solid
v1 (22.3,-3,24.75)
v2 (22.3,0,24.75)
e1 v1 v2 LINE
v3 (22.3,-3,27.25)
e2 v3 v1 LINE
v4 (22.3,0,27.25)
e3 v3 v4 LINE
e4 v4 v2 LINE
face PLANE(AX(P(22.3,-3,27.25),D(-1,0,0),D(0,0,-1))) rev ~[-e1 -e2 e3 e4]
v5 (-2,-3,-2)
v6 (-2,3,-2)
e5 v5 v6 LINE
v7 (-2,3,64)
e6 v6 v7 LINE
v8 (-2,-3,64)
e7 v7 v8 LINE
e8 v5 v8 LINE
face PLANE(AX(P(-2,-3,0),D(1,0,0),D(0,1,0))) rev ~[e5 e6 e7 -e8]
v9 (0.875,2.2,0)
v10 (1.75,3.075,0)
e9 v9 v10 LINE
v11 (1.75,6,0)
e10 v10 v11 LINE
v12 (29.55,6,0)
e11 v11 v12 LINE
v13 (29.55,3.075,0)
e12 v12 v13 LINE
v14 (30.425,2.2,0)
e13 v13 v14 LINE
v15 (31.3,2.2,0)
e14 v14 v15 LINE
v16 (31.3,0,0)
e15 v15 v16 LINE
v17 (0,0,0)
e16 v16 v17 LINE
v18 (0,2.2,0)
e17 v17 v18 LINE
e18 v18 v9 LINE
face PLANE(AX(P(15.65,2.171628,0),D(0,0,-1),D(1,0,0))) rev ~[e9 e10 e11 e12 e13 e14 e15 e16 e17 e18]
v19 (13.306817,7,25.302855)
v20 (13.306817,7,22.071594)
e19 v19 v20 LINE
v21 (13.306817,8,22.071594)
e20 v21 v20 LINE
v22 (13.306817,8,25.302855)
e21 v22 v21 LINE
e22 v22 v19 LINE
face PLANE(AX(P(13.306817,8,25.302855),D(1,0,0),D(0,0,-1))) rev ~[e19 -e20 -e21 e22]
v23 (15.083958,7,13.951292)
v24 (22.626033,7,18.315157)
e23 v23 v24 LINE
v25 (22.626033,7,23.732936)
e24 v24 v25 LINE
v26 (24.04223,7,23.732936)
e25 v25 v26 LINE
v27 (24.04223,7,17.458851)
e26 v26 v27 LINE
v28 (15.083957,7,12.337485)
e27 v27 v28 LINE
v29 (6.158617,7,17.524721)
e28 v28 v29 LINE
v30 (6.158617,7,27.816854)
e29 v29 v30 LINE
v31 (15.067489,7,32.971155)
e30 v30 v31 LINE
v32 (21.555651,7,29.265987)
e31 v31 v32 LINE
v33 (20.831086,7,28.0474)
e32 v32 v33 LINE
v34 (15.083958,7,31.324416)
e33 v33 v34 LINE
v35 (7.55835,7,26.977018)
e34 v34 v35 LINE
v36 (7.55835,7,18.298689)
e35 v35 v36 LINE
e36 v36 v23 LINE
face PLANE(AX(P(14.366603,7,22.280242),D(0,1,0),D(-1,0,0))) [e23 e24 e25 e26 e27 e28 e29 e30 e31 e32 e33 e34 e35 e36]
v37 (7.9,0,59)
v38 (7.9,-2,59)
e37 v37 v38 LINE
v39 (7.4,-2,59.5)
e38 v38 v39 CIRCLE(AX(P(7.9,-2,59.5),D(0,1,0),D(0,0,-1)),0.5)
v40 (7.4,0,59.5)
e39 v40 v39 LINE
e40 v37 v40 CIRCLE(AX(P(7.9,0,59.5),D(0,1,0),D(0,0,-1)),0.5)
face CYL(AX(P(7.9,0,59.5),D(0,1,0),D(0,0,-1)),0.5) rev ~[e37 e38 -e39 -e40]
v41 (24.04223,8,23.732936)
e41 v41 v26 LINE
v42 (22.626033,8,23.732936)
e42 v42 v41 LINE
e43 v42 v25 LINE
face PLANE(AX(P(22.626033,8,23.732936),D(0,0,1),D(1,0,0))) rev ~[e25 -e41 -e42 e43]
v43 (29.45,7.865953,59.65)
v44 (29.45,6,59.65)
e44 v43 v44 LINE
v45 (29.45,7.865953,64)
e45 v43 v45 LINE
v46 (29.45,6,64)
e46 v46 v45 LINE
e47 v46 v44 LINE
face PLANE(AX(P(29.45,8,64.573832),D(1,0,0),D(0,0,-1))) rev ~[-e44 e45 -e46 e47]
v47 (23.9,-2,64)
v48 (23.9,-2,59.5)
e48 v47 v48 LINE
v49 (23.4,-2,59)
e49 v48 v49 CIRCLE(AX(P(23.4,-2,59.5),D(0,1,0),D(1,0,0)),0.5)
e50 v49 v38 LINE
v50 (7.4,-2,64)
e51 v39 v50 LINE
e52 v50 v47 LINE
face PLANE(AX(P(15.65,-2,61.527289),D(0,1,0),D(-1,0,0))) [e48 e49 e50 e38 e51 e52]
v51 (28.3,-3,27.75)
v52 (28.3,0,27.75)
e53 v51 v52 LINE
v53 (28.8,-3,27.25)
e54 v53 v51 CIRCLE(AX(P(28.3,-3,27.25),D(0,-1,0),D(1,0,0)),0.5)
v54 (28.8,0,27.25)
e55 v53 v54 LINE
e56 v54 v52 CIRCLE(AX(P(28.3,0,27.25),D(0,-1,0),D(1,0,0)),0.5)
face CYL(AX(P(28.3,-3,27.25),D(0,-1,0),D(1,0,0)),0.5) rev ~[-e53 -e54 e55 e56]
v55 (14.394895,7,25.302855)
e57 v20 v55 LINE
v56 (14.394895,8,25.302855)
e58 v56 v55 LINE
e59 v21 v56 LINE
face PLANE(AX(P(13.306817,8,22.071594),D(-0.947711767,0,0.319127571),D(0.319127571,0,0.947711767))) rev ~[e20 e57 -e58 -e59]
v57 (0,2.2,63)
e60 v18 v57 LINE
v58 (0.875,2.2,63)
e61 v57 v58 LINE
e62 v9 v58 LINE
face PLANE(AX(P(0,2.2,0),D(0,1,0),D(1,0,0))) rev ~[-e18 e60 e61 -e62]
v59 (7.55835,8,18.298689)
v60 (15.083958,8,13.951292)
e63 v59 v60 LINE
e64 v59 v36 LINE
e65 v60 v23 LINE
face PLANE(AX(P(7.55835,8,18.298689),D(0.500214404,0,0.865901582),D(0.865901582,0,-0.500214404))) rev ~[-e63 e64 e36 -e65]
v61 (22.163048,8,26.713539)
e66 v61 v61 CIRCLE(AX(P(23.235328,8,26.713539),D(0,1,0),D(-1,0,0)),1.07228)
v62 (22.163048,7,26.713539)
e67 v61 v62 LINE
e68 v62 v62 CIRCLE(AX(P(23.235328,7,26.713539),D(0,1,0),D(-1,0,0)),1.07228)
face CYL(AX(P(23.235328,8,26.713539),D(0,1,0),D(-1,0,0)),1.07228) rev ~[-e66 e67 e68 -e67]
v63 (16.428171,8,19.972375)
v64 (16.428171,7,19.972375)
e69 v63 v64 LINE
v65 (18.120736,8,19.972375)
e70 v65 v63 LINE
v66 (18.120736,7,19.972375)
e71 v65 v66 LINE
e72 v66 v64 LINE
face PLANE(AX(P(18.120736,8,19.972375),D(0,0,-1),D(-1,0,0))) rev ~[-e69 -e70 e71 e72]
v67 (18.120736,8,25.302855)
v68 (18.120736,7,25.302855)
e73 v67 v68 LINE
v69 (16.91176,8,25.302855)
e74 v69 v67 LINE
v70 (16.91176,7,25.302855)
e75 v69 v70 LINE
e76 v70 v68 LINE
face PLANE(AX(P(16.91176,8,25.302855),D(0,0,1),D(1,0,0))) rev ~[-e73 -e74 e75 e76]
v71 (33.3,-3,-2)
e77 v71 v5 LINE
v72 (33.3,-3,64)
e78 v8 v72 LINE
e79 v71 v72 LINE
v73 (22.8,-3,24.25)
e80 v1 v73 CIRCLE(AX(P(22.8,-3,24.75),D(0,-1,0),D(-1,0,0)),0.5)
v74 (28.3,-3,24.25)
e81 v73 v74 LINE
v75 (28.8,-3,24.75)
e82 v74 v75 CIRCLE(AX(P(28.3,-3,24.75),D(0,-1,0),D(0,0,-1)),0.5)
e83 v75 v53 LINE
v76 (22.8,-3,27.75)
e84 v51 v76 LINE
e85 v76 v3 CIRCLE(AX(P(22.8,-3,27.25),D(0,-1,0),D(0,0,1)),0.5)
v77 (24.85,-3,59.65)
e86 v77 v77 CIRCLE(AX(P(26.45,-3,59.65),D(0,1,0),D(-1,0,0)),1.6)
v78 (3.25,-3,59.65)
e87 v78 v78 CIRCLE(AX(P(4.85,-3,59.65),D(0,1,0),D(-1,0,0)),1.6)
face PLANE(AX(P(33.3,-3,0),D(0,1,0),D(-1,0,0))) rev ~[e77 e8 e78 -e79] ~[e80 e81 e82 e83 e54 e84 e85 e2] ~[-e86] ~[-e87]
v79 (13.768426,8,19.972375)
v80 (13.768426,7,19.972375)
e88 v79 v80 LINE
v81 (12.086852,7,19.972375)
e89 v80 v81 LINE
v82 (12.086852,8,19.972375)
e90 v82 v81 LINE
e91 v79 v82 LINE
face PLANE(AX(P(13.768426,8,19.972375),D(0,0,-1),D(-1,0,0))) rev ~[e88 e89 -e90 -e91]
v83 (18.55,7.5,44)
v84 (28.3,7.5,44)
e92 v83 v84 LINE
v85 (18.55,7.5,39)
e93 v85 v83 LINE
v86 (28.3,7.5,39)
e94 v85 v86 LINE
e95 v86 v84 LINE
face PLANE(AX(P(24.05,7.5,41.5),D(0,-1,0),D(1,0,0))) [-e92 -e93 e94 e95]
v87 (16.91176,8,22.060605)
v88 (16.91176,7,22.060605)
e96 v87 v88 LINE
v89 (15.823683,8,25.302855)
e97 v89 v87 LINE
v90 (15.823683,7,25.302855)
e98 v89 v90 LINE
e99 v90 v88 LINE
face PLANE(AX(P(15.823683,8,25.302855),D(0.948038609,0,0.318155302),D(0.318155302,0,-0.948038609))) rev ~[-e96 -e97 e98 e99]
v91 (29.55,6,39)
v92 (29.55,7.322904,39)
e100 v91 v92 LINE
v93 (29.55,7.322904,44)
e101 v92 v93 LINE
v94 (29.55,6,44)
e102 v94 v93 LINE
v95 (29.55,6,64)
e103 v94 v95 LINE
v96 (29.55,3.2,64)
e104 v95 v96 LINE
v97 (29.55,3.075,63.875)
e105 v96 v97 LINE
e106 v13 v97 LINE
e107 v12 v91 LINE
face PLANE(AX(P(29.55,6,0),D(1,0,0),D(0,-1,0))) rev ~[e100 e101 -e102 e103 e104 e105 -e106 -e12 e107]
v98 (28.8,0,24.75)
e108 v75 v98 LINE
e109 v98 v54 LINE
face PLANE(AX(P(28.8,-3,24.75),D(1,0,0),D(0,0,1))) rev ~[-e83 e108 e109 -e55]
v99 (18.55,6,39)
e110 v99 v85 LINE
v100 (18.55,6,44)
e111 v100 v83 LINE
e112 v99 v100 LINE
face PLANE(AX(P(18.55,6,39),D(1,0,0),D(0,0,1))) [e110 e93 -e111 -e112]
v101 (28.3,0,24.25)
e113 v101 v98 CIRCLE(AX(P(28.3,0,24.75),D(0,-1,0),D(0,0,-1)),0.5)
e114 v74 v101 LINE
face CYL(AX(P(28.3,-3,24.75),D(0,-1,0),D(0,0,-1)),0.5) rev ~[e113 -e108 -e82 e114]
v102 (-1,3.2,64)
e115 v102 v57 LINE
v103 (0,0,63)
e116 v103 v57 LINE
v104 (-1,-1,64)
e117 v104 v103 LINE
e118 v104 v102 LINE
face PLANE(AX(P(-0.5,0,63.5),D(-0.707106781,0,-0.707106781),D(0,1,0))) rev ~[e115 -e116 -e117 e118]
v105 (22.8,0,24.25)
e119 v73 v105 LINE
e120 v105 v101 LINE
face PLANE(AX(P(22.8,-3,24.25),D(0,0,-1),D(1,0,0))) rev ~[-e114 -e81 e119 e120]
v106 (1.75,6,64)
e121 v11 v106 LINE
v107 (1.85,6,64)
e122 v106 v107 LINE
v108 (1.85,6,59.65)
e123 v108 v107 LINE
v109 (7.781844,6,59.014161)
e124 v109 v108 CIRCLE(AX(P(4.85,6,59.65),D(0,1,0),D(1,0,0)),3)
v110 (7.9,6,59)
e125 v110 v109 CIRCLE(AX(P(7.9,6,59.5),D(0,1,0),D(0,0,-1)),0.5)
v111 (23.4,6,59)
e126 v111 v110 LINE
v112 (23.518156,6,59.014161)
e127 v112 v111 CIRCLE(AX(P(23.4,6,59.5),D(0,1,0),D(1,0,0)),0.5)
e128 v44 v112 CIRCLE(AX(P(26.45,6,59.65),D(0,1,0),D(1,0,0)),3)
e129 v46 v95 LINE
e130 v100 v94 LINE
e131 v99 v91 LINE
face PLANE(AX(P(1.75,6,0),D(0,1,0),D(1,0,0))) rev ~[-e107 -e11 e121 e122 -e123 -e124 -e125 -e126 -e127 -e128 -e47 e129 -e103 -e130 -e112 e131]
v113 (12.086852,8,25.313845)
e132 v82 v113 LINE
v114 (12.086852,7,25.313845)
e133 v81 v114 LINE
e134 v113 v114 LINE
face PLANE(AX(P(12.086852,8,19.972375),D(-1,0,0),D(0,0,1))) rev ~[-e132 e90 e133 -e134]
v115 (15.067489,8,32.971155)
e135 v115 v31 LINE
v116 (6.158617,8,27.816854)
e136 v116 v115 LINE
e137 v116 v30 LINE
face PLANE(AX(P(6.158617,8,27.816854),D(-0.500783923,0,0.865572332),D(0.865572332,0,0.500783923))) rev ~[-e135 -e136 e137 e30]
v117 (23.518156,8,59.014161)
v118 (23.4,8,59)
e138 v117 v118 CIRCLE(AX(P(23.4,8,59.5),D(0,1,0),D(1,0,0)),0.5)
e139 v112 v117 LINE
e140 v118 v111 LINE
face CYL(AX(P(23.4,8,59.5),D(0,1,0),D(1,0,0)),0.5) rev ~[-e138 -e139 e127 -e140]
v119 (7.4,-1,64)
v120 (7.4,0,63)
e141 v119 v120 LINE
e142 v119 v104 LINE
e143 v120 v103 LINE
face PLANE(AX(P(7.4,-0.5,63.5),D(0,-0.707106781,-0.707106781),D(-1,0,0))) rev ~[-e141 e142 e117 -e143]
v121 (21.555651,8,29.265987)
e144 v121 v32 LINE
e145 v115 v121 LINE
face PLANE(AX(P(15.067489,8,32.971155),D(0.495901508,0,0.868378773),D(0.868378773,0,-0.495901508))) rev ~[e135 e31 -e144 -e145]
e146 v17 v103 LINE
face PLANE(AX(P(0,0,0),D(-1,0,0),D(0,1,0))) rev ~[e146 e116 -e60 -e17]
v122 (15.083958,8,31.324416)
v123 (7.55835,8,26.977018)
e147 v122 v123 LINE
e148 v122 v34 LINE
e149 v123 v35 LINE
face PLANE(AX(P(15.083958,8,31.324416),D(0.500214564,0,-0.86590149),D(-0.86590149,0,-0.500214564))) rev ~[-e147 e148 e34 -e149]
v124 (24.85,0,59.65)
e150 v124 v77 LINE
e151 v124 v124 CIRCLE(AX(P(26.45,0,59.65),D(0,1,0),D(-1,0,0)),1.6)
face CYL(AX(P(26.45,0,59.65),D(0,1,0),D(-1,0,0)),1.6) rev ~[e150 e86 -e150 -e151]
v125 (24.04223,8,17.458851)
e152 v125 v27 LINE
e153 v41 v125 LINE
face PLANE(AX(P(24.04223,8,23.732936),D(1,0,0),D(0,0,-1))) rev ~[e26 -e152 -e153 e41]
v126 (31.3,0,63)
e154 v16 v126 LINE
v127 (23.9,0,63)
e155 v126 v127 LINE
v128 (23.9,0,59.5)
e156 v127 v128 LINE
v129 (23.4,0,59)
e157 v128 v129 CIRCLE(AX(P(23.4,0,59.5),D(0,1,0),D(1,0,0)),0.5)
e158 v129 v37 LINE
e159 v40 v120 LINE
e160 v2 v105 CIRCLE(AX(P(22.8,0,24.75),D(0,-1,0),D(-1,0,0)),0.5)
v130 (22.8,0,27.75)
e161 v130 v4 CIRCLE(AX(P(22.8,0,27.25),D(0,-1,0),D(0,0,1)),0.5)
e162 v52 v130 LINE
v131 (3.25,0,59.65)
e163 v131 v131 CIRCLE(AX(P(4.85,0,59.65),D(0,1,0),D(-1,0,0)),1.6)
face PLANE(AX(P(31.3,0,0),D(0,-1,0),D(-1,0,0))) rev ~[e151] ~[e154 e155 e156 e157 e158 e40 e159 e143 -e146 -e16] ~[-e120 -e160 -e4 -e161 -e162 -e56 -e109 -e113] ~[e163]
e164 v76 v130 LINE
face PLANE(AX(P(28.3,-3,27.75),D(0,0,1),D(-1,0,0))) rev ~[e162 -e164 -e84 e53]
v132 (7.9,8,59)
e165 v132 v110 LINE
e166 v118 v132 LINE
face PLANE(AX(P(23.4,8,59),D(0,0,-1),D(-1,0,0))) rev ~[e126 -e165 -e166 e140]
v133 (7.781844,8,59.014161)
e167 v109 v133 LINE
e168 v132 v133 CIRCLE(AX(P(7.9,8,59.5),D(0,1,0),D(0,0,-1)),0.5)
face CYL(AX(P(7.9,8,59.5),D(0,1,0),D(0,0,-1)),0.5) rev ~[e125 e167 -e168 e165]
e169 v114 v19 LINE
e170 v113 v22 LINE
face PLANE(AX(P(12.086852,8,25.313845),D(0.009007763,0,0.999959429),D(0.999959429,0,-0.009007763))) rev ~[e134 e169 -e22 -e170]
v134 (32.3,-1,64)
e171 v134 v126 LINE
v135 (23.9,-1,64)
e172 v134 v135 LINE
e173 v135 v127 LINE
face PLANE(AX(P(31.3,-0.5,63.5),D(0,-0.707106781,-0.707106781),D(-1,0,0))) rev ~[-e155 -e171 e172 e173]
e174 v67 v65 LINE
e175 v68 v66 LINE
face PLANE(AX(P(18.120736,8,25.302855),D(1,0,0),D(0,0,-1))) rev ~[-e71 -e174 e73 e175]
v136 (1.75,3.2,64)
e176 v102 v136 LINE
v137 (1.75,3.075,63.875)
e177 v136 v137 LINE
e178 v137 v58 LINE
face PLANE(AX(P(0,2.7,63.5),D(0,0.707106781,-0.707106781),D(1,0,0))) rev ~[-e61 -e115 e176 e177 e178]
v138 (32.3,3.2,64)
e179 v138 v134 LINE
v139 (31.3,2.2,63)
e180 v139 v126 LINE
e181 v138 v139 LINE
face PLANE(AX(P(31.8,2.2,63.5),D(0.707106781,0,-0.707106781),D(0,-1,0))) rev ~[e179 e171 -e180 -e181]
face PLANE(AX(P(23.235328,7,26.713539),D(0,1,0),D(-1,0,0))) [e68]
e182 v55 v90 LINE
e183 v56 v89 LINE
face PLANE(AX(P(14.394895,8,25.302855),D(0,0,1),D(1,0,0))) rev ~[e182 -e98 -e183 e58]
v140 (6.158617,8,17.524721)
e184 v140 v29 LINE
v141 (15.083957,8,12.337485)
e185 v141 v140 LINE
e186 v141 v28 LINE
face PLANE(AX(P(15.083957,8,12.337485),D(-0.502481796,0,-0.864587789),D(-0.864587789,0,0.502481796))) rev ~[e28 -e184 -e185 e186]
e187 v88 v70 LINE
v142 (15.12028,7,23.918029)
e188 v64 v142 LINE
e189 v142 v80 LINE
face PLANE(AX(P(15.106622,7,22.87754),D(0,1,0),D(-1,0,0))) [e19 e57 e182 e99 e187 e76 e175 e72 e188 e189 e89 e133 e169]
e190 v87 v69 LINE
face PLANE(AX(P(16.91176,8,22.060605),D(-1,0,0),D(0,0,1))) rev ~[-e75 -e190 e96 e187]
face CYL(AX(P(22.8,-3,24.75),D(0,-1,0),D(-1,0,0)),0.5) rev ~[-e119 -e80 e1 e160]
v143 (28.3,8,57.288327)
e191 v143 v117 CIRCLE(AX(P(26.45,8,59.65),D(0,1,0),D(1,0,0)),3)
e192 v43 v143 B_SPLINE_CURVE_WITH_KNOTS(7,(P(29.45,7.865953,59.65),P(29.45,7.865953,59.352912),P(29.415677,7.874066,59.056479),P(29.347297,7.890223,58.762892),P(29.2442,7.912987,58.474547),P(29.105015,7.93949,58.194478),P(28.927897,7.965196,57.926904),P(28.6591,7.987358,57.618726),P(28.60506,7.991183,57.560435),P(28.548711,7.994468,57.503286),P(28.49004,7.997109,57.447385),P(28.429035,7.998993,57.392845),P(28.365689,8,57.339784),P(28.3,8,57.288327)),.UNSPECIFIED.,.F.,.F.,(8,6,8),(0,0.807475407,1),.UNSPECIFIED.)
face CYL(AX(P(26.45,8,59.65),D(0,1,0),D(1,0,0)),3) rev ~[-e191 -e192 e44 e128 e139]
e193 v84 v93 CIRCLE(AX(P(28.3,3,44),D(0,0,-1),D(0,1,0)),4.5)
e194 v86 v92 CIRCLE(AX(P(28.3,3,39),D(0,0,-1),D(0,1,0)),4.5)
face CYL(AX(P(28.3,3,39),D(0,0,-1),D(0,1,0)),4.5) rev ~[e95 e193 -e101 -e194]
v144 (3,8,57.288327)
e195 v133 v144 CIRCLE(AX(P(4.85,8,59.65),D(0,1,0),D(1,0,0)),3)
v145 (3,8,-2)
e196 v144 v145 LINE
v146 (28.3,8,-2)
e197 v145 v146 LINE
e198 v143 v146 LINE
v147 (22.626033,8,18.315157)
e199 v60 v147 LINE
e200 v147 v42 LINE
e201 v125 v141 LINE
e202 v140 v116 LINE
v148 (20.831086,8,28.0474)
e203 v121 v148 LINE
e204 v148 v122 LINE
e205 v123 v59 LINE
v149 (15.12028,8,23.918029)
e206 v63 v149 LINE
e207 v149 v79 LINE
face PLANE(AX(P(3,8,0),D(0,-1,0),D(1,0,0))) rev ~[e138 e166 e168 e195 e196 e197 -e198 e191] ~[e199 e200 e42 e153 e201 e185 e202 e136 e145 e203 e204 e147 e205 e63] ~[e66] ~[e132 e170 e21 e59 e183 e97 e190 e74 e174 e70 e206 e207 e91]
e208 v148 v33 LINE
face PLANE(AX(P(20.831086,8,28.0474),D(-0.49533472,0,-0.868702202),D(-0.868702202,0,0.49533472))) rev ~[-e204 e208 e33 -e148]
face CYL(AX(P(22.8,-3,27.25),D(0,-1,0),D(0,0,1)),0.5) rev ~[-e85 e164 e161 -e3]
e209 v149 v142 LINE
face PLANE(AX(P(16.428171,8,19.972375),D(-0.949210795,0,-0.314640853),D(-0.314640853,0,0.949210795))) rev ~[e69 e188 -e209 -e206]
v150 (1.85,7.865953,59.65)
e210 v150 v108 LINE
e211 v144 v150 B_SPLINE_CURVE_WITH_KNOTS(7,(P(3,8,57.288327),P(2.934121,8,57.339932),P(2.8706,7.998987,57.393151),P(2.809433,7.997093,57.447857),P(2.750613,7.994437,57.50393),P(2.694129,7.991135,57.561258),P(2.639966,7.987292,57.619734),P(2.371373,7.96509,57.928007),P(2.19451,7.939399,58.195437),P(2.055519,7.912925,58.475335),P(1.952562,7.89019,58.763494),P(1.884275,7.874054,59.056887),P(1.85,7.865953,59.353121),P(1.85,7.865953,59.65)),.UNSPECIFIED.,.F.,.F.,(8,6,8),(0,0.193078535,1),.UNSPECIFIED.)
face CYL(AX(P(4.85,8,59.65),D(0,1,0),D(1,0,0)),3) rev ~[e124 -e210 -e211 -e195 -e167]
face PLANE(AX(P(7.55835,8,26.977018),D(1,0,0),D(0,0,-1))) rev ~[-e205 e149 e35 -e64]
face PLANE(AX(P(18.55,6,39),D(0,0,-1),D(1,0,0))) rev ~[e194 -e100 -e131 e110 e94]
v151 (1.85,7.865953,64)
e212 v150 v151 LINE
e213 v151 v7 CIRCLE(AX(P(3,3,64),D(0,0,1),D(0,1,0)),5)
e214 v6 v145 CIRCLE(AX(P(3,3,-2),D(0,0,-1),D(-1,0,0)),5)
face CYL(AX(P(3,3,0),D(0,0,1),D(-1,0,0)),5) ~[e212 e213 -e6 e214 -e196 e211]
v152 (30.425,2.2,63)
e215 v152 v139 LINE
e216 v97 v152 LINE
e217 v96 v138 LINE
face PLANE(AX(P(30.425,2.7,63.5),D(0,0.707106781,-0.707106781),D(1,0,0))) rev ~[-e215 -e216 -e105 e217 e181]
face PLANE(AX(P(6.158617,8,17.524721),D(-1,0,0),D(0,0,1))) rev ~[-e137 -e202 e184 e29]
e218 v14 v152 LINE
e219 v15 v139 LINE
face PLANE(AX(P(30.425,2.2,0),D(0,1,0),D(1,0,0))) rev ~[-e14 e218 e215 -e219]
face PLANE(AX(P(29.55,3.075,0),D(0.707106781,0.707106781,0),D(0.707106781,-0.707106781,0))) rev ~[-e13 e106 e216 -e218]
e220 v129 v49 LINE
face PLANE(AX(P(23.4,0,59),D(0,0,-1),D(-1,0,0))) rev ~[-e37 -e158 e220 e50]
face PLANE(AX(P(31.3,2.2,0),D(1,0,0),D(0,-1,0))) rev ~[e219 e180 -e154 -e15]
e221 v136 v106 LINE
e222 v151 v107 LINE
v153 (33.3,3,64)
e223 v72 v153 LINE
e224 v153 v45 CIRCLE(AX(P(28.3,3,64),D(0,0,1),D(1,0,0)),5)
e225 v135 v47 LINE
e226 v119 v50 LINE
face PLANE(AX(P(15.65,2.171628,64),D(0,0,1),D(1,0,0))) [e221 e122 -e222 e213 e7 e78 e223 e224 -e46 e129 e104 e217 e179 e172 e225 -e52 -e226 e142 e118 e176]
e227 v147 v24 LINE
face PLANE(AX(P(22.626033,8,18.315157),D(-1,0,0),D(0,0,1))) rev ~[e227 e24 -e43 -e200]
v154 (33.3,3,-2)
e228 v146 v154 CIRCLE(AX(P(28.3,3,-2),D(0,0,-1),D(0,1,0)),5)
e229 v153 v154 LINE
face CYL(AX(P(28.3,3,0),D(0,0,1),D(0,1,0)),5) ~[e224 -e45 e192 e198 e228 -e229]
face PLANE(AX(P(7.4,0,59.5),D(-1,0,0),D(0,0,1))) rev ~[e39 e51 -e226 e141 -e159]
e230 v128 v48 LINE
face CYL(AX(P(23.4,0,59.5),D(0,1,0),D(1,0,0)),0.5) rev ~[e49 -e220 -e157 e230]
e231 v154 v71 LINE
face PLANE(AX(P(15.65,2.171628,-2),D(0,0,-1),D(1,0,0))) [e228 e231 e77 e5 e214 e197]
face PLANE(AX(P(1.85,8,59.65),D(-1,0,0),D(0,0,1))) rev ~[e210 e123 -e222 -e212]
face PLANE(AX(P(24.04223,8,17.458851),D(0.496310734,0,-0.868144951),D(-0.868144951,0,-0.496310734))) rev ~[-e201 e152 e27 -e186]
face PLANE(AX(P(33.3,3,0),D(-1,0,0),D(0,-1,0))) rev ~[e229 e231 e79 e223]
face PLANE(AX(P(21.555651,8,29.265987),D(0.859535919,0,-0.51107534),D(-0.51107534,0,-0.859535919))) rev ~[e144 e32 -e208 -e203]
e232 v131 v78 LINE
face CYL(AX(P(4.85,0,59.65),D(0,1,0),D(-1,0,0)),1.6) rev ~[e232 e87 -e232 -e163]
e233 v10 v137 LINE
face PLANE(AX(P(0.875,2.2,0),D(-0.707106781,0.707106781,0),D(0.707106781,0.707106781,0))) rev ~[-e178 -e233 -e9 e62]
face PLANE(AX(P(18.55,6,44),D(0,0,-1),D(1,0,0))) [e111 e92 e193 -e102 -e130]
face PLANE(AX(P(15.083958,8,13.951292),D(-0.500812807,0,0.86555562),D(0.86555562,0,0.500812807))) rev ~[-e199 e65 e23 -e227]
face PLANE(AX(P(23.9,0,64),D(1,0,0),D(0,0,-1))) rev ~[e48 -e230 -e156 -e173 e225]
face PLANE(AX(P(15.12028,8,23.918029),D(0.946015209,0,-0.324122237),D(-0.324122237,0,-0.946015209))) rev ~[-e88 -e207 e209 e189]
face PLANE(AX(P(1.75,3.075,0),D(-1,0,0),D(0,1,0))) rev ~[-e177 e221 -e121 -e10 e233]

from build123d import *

# Parameters (mm, degrees)
F1_DEPTH  = 64
F3_DEPTH  = 2
F5_DEPTH  = 2
F7_DEPTH  = 2
F9_DEPTH  = 2
F10_SIZE  = 1
F11_R     = 1.6
F12_DEPTH = 3.001
F13_W     = 11
F13_H     = 5
F14_DEPTH = 1.5
F16_DEPTH = 5
F17_R     = 1.072280415
F18_DEPTH = 1
F20_DEPTH = 3


with BuildPart() as f1:
    # F0 (on Top) → F1 (new body)
    with BuildSketch(Plane.XY):
        with BuildLine():
            Line((28.3, 8), (15.65, 8))
            Line((15.65, 8), (3, 8))
            ThreePointArc((3, 8), (-0.5355339059, 6.5355339059), (-2, 3))
            Line((-2, 3), (-2, -3))
            Line((-2, -3), (15.65, -3))
            Line((15.65, -3), (33.3, -3))
            Line((33.3, -3), (33.3, 3))
            ThreePointArc((33.3, 3), (31.8355339059, 6.5355339059), (28.3, 8))
        make_face()
        Polygon((15.65, 0), (0, 0), (0, 2.2), (0.875, 2.2), (1.75, 3.075), (1.75, 6), (15.65, 6), (29.55, 6), (29.55, 3.075), (30.425, 2.2), (31.3, 2.2), (31.3, 0), align=None, mode=Mode.SUBTRACT)
    extrude(amount=F1_DEPTH)

    # F2 (on face) → F3 (join)
    with BuildSketch(Plane(origin=(0, 0, 0), x_dir=(1, 0, 0), z_dir=(0, 0, -1))):
        with BuildLine():
            ThreePointArc((-2, -3), (-0.5355339059, -6.5355339059), (3, -8))
            Line((3, -8), (28.3, -8))
            ThreePointArc((28.3, -8), (31.8355339059, -6.5355339059), (33.3, -3))
            Line((33.3, -3), (33.3, 3))
            Line((33.3, 3), (-2, 3))
            Line((-2, 3), (-2, -3))
        make_face()
    extrude(amount=F3_DEPTH)

    # F4 (on face) → F5 (cut, through all)
    with BuildSketch(Plane(origin=(0, 8, 0), x_dir=(-1, 0, 0), z_dir=(0, 1, 0))):
        with BuildLine():
            Line((-7.4, 59.5), (-7.4, 64))
            Line((-7.4, 64), (-15.65, 64))
            Line((-15.65, 64), (-23.9, 64))
            Line((-23.9, 64), (-23.9, 59.5))
            ThreePointArc((-23.9, 59.5), (-23.7535533906, 59.1464466094), (-23.4, 59))
            Line((-23.4, 59), (-15.65, 59))
            Line((-15.65, 59), (-7.9, 59))
            ThreePointArc((-7.9, 59), (-7.5464466094, 59.1464466094), (-7.4, 59.5))
        make_face()
    extrude(amount=-F5_DEPTH, mode=Mode.SUBTRACT)

    # F6 (on face) → F7 (cut, through all)
    with BuildSketch(Plane(origin=(0, 8, 0), x_dir=(-1, 0, 0), z_dir=(0, 1, 0))):
        with BuildLine():
            Line((-7.85, 64.5738318563), (-7.85, 59.65))
            ThreePointArc((-7.85, 59.65), (-4.85, 56.65), (-1.85, 59.65))
            Line((-1.85, 59.65), (-1.85, 64.5738318563))
            Line((-1.85, 64.5738318563), (-7.85, 64.5738318563))
        make_face()
        with BuildLine():
            ThreePointArc((-29.45, 59.65), (-26.45, 56.65), (-23.45, 59.65))
            Line((-23.45, 59.65), (-23.45, 64.5738318563))
            Line((-23.45, 64.5738318563), (-29.45, 64.5738318563))
            Line((-29.45, 64.5738318563), (-29.45, 59.65))
        make_face()
    extrude(amount=-F7_DEPTH, mode=Mode.SUBTRACT)

    # F8 (on face) → F9 (cut)
    with BuildSketch(Plane(origin=(0, 0, 0), x_dir=(-1, 0, 0), z_dir=(0, 1, 0))):
        with BuildLine():
            Line((-7.4, 59.5), (-7.4, 64))
            Line((-7.4, 64), (-15.65, 64))
            Line((-15.65, 64), (-23.9, 64))
            Line((-23.9, 64), (-23.9, 59.5))
            ThreePointArc((-23.9, 59.5), (-23.7535533906, 59.1464466094), (-23.4, 59))
            Line((-23.4, 59), (-15.65, 59))
            Line((-15.65, 59), (-7.9, 59))
            ThreePointArc((-7.9, 59), (-7.5464466094, 59.1464466094), (-7.4, 59.5))
        make_face()
    extrude(amount=-F9_DEPTH, mode=Mode.SUBTRACT)

    # F10
    f10_edges = [f1.edges().sort_by_distance(p)[0] for p in [
        (3.7, 0, 64),
        (27.6, 0, 64),
        (0, 1.1, 64),
        (0.4375, 2.2, 64),
        (31.3, 1.1, 64),
        (30.8625, 2.2, 64),
    ]]
    chamfer(f10_edges, length=F10_SIZE)

    # F11 (on face) → F12 (cut, through all)
    with BuildSketch(Plane(origin=(0, 0, 0), x_dir=(-1, 0, 0), z_dir=(0, 1, 0))):
        with Locations((-4.85, 59.65)):
            Circle(F11_R)
        with Locations((-26.45, 59.65)):
            Circle(F11_R)
    extrude(amount=-F12_DEPTH, mode=Mode.SUBTRACT)

    # F13 (on face) → F14 (cut)
    with BuildSketch(Plane.XZ.offset(-6)):
        with Locations((24.05, 41.5)):
            Rectangle(F13_W, F13_H)
    extrude(amount=-F14_DEPTH, mode=Mode.SUBTRACT)

    # F15 (on face) → F16 (join, through all)
    with BuildSketch(Plane.XY.offset(39)):
        with BuildLine():
            Line((29.55, 7.5), (28.3, 7.5))
            ThreePointArc((28.3, 7.5), (28.9312414261, 7.4555060613), (29.55, 7.3229041164))
            Line((29.55, 7.3229041164), (29.55, 7.5))
        make_face()
    extrude(amount=F16_DEPTH)

    # F17 (on face) → F18 (cut)
    with BuildSketch(Plane(origin=(0, 8, 0), x_dir=(-1, 0, 0), z_dir=(0, 1, 0))):
        Polygon((-15.0674888864, 32.9711548984), (-21.5556509793, 29.2659867555), (-20.8310857415, 28.0473995954), (-15.0839583948, 31.324416399), (-7.55834952, 26.9770175219), (-7.55834952, 18.298689276), (-15.0839583948, 13.9512922615), (-22.6260330528, 18.3151569217), (-22.6260330528, 23.7329360098), (-24.0422300994, 23.7329360098), (-24.0422300994, 17.4588505179), (-15.0839565322, 12.3374853283), (-6.1586168595, 17.5247211009), (-6.1586168595, 27.8168544173), align=None)
        with Locations((-23.2353284955, 26.7135389149)):
            Circle(F17_R)
        Polygon((-12.0868515223, 19.9723746628), (-12.0868515223, 25.3138449043), (-13.3068170398, 25.3028552979), (-13.3068170398, 22.0715943724), (-14.3948951736, 25.3028552979), (-15.8236827701, 25.3028552979), (-16.9117599726, 22.060604766), (-16.9117599726, 25.3028552979), (-18.1207358837, 25.3028552979), (-18.1207358837, 19.9723746628), (-16.4281707257, 19.9723746628), (-15.1202799752, 23.9180289209), (-13.7684261426, 19.9723746628), align=None)
    extrude(amount=-F18_DEPTH, mode=Mode.SUBTRACT)

    # F19 (on face) → F20 (cut, through all)
    with BuildSketch(Plane.XZ.offset(3)):
        with BuildLine():
            Line((28.3, 27.75), (22.8, 27.75))
            ThreePointArc((22.8, 27.75), (22.4464466094, 27.6035533906), (22.3, 27.25))
            Line((22.3, 27.25), (22.3, 24.75))
            ThreePointArc((22.3, 24.75), (22.4464466094, 24.3964466094), (22.8, 24.25))
            Line((22.8, 24.25), (28.3, 24.25))
            ThreePointArc((28.3, 24.25), (28.6535533906, 24.3964466094), (28.8, 24.75))
            Line((28.8, 24.75), (28.8, 27.25))
            ThreePointArc((28.8, 27.25), (28.6535533906, 27.6035533906), (28.3, 27.75))
        make_face()
    extrude(amount=-F20_DEPTH, mode=Mode.SUBTRACT)


solid = f1.part
